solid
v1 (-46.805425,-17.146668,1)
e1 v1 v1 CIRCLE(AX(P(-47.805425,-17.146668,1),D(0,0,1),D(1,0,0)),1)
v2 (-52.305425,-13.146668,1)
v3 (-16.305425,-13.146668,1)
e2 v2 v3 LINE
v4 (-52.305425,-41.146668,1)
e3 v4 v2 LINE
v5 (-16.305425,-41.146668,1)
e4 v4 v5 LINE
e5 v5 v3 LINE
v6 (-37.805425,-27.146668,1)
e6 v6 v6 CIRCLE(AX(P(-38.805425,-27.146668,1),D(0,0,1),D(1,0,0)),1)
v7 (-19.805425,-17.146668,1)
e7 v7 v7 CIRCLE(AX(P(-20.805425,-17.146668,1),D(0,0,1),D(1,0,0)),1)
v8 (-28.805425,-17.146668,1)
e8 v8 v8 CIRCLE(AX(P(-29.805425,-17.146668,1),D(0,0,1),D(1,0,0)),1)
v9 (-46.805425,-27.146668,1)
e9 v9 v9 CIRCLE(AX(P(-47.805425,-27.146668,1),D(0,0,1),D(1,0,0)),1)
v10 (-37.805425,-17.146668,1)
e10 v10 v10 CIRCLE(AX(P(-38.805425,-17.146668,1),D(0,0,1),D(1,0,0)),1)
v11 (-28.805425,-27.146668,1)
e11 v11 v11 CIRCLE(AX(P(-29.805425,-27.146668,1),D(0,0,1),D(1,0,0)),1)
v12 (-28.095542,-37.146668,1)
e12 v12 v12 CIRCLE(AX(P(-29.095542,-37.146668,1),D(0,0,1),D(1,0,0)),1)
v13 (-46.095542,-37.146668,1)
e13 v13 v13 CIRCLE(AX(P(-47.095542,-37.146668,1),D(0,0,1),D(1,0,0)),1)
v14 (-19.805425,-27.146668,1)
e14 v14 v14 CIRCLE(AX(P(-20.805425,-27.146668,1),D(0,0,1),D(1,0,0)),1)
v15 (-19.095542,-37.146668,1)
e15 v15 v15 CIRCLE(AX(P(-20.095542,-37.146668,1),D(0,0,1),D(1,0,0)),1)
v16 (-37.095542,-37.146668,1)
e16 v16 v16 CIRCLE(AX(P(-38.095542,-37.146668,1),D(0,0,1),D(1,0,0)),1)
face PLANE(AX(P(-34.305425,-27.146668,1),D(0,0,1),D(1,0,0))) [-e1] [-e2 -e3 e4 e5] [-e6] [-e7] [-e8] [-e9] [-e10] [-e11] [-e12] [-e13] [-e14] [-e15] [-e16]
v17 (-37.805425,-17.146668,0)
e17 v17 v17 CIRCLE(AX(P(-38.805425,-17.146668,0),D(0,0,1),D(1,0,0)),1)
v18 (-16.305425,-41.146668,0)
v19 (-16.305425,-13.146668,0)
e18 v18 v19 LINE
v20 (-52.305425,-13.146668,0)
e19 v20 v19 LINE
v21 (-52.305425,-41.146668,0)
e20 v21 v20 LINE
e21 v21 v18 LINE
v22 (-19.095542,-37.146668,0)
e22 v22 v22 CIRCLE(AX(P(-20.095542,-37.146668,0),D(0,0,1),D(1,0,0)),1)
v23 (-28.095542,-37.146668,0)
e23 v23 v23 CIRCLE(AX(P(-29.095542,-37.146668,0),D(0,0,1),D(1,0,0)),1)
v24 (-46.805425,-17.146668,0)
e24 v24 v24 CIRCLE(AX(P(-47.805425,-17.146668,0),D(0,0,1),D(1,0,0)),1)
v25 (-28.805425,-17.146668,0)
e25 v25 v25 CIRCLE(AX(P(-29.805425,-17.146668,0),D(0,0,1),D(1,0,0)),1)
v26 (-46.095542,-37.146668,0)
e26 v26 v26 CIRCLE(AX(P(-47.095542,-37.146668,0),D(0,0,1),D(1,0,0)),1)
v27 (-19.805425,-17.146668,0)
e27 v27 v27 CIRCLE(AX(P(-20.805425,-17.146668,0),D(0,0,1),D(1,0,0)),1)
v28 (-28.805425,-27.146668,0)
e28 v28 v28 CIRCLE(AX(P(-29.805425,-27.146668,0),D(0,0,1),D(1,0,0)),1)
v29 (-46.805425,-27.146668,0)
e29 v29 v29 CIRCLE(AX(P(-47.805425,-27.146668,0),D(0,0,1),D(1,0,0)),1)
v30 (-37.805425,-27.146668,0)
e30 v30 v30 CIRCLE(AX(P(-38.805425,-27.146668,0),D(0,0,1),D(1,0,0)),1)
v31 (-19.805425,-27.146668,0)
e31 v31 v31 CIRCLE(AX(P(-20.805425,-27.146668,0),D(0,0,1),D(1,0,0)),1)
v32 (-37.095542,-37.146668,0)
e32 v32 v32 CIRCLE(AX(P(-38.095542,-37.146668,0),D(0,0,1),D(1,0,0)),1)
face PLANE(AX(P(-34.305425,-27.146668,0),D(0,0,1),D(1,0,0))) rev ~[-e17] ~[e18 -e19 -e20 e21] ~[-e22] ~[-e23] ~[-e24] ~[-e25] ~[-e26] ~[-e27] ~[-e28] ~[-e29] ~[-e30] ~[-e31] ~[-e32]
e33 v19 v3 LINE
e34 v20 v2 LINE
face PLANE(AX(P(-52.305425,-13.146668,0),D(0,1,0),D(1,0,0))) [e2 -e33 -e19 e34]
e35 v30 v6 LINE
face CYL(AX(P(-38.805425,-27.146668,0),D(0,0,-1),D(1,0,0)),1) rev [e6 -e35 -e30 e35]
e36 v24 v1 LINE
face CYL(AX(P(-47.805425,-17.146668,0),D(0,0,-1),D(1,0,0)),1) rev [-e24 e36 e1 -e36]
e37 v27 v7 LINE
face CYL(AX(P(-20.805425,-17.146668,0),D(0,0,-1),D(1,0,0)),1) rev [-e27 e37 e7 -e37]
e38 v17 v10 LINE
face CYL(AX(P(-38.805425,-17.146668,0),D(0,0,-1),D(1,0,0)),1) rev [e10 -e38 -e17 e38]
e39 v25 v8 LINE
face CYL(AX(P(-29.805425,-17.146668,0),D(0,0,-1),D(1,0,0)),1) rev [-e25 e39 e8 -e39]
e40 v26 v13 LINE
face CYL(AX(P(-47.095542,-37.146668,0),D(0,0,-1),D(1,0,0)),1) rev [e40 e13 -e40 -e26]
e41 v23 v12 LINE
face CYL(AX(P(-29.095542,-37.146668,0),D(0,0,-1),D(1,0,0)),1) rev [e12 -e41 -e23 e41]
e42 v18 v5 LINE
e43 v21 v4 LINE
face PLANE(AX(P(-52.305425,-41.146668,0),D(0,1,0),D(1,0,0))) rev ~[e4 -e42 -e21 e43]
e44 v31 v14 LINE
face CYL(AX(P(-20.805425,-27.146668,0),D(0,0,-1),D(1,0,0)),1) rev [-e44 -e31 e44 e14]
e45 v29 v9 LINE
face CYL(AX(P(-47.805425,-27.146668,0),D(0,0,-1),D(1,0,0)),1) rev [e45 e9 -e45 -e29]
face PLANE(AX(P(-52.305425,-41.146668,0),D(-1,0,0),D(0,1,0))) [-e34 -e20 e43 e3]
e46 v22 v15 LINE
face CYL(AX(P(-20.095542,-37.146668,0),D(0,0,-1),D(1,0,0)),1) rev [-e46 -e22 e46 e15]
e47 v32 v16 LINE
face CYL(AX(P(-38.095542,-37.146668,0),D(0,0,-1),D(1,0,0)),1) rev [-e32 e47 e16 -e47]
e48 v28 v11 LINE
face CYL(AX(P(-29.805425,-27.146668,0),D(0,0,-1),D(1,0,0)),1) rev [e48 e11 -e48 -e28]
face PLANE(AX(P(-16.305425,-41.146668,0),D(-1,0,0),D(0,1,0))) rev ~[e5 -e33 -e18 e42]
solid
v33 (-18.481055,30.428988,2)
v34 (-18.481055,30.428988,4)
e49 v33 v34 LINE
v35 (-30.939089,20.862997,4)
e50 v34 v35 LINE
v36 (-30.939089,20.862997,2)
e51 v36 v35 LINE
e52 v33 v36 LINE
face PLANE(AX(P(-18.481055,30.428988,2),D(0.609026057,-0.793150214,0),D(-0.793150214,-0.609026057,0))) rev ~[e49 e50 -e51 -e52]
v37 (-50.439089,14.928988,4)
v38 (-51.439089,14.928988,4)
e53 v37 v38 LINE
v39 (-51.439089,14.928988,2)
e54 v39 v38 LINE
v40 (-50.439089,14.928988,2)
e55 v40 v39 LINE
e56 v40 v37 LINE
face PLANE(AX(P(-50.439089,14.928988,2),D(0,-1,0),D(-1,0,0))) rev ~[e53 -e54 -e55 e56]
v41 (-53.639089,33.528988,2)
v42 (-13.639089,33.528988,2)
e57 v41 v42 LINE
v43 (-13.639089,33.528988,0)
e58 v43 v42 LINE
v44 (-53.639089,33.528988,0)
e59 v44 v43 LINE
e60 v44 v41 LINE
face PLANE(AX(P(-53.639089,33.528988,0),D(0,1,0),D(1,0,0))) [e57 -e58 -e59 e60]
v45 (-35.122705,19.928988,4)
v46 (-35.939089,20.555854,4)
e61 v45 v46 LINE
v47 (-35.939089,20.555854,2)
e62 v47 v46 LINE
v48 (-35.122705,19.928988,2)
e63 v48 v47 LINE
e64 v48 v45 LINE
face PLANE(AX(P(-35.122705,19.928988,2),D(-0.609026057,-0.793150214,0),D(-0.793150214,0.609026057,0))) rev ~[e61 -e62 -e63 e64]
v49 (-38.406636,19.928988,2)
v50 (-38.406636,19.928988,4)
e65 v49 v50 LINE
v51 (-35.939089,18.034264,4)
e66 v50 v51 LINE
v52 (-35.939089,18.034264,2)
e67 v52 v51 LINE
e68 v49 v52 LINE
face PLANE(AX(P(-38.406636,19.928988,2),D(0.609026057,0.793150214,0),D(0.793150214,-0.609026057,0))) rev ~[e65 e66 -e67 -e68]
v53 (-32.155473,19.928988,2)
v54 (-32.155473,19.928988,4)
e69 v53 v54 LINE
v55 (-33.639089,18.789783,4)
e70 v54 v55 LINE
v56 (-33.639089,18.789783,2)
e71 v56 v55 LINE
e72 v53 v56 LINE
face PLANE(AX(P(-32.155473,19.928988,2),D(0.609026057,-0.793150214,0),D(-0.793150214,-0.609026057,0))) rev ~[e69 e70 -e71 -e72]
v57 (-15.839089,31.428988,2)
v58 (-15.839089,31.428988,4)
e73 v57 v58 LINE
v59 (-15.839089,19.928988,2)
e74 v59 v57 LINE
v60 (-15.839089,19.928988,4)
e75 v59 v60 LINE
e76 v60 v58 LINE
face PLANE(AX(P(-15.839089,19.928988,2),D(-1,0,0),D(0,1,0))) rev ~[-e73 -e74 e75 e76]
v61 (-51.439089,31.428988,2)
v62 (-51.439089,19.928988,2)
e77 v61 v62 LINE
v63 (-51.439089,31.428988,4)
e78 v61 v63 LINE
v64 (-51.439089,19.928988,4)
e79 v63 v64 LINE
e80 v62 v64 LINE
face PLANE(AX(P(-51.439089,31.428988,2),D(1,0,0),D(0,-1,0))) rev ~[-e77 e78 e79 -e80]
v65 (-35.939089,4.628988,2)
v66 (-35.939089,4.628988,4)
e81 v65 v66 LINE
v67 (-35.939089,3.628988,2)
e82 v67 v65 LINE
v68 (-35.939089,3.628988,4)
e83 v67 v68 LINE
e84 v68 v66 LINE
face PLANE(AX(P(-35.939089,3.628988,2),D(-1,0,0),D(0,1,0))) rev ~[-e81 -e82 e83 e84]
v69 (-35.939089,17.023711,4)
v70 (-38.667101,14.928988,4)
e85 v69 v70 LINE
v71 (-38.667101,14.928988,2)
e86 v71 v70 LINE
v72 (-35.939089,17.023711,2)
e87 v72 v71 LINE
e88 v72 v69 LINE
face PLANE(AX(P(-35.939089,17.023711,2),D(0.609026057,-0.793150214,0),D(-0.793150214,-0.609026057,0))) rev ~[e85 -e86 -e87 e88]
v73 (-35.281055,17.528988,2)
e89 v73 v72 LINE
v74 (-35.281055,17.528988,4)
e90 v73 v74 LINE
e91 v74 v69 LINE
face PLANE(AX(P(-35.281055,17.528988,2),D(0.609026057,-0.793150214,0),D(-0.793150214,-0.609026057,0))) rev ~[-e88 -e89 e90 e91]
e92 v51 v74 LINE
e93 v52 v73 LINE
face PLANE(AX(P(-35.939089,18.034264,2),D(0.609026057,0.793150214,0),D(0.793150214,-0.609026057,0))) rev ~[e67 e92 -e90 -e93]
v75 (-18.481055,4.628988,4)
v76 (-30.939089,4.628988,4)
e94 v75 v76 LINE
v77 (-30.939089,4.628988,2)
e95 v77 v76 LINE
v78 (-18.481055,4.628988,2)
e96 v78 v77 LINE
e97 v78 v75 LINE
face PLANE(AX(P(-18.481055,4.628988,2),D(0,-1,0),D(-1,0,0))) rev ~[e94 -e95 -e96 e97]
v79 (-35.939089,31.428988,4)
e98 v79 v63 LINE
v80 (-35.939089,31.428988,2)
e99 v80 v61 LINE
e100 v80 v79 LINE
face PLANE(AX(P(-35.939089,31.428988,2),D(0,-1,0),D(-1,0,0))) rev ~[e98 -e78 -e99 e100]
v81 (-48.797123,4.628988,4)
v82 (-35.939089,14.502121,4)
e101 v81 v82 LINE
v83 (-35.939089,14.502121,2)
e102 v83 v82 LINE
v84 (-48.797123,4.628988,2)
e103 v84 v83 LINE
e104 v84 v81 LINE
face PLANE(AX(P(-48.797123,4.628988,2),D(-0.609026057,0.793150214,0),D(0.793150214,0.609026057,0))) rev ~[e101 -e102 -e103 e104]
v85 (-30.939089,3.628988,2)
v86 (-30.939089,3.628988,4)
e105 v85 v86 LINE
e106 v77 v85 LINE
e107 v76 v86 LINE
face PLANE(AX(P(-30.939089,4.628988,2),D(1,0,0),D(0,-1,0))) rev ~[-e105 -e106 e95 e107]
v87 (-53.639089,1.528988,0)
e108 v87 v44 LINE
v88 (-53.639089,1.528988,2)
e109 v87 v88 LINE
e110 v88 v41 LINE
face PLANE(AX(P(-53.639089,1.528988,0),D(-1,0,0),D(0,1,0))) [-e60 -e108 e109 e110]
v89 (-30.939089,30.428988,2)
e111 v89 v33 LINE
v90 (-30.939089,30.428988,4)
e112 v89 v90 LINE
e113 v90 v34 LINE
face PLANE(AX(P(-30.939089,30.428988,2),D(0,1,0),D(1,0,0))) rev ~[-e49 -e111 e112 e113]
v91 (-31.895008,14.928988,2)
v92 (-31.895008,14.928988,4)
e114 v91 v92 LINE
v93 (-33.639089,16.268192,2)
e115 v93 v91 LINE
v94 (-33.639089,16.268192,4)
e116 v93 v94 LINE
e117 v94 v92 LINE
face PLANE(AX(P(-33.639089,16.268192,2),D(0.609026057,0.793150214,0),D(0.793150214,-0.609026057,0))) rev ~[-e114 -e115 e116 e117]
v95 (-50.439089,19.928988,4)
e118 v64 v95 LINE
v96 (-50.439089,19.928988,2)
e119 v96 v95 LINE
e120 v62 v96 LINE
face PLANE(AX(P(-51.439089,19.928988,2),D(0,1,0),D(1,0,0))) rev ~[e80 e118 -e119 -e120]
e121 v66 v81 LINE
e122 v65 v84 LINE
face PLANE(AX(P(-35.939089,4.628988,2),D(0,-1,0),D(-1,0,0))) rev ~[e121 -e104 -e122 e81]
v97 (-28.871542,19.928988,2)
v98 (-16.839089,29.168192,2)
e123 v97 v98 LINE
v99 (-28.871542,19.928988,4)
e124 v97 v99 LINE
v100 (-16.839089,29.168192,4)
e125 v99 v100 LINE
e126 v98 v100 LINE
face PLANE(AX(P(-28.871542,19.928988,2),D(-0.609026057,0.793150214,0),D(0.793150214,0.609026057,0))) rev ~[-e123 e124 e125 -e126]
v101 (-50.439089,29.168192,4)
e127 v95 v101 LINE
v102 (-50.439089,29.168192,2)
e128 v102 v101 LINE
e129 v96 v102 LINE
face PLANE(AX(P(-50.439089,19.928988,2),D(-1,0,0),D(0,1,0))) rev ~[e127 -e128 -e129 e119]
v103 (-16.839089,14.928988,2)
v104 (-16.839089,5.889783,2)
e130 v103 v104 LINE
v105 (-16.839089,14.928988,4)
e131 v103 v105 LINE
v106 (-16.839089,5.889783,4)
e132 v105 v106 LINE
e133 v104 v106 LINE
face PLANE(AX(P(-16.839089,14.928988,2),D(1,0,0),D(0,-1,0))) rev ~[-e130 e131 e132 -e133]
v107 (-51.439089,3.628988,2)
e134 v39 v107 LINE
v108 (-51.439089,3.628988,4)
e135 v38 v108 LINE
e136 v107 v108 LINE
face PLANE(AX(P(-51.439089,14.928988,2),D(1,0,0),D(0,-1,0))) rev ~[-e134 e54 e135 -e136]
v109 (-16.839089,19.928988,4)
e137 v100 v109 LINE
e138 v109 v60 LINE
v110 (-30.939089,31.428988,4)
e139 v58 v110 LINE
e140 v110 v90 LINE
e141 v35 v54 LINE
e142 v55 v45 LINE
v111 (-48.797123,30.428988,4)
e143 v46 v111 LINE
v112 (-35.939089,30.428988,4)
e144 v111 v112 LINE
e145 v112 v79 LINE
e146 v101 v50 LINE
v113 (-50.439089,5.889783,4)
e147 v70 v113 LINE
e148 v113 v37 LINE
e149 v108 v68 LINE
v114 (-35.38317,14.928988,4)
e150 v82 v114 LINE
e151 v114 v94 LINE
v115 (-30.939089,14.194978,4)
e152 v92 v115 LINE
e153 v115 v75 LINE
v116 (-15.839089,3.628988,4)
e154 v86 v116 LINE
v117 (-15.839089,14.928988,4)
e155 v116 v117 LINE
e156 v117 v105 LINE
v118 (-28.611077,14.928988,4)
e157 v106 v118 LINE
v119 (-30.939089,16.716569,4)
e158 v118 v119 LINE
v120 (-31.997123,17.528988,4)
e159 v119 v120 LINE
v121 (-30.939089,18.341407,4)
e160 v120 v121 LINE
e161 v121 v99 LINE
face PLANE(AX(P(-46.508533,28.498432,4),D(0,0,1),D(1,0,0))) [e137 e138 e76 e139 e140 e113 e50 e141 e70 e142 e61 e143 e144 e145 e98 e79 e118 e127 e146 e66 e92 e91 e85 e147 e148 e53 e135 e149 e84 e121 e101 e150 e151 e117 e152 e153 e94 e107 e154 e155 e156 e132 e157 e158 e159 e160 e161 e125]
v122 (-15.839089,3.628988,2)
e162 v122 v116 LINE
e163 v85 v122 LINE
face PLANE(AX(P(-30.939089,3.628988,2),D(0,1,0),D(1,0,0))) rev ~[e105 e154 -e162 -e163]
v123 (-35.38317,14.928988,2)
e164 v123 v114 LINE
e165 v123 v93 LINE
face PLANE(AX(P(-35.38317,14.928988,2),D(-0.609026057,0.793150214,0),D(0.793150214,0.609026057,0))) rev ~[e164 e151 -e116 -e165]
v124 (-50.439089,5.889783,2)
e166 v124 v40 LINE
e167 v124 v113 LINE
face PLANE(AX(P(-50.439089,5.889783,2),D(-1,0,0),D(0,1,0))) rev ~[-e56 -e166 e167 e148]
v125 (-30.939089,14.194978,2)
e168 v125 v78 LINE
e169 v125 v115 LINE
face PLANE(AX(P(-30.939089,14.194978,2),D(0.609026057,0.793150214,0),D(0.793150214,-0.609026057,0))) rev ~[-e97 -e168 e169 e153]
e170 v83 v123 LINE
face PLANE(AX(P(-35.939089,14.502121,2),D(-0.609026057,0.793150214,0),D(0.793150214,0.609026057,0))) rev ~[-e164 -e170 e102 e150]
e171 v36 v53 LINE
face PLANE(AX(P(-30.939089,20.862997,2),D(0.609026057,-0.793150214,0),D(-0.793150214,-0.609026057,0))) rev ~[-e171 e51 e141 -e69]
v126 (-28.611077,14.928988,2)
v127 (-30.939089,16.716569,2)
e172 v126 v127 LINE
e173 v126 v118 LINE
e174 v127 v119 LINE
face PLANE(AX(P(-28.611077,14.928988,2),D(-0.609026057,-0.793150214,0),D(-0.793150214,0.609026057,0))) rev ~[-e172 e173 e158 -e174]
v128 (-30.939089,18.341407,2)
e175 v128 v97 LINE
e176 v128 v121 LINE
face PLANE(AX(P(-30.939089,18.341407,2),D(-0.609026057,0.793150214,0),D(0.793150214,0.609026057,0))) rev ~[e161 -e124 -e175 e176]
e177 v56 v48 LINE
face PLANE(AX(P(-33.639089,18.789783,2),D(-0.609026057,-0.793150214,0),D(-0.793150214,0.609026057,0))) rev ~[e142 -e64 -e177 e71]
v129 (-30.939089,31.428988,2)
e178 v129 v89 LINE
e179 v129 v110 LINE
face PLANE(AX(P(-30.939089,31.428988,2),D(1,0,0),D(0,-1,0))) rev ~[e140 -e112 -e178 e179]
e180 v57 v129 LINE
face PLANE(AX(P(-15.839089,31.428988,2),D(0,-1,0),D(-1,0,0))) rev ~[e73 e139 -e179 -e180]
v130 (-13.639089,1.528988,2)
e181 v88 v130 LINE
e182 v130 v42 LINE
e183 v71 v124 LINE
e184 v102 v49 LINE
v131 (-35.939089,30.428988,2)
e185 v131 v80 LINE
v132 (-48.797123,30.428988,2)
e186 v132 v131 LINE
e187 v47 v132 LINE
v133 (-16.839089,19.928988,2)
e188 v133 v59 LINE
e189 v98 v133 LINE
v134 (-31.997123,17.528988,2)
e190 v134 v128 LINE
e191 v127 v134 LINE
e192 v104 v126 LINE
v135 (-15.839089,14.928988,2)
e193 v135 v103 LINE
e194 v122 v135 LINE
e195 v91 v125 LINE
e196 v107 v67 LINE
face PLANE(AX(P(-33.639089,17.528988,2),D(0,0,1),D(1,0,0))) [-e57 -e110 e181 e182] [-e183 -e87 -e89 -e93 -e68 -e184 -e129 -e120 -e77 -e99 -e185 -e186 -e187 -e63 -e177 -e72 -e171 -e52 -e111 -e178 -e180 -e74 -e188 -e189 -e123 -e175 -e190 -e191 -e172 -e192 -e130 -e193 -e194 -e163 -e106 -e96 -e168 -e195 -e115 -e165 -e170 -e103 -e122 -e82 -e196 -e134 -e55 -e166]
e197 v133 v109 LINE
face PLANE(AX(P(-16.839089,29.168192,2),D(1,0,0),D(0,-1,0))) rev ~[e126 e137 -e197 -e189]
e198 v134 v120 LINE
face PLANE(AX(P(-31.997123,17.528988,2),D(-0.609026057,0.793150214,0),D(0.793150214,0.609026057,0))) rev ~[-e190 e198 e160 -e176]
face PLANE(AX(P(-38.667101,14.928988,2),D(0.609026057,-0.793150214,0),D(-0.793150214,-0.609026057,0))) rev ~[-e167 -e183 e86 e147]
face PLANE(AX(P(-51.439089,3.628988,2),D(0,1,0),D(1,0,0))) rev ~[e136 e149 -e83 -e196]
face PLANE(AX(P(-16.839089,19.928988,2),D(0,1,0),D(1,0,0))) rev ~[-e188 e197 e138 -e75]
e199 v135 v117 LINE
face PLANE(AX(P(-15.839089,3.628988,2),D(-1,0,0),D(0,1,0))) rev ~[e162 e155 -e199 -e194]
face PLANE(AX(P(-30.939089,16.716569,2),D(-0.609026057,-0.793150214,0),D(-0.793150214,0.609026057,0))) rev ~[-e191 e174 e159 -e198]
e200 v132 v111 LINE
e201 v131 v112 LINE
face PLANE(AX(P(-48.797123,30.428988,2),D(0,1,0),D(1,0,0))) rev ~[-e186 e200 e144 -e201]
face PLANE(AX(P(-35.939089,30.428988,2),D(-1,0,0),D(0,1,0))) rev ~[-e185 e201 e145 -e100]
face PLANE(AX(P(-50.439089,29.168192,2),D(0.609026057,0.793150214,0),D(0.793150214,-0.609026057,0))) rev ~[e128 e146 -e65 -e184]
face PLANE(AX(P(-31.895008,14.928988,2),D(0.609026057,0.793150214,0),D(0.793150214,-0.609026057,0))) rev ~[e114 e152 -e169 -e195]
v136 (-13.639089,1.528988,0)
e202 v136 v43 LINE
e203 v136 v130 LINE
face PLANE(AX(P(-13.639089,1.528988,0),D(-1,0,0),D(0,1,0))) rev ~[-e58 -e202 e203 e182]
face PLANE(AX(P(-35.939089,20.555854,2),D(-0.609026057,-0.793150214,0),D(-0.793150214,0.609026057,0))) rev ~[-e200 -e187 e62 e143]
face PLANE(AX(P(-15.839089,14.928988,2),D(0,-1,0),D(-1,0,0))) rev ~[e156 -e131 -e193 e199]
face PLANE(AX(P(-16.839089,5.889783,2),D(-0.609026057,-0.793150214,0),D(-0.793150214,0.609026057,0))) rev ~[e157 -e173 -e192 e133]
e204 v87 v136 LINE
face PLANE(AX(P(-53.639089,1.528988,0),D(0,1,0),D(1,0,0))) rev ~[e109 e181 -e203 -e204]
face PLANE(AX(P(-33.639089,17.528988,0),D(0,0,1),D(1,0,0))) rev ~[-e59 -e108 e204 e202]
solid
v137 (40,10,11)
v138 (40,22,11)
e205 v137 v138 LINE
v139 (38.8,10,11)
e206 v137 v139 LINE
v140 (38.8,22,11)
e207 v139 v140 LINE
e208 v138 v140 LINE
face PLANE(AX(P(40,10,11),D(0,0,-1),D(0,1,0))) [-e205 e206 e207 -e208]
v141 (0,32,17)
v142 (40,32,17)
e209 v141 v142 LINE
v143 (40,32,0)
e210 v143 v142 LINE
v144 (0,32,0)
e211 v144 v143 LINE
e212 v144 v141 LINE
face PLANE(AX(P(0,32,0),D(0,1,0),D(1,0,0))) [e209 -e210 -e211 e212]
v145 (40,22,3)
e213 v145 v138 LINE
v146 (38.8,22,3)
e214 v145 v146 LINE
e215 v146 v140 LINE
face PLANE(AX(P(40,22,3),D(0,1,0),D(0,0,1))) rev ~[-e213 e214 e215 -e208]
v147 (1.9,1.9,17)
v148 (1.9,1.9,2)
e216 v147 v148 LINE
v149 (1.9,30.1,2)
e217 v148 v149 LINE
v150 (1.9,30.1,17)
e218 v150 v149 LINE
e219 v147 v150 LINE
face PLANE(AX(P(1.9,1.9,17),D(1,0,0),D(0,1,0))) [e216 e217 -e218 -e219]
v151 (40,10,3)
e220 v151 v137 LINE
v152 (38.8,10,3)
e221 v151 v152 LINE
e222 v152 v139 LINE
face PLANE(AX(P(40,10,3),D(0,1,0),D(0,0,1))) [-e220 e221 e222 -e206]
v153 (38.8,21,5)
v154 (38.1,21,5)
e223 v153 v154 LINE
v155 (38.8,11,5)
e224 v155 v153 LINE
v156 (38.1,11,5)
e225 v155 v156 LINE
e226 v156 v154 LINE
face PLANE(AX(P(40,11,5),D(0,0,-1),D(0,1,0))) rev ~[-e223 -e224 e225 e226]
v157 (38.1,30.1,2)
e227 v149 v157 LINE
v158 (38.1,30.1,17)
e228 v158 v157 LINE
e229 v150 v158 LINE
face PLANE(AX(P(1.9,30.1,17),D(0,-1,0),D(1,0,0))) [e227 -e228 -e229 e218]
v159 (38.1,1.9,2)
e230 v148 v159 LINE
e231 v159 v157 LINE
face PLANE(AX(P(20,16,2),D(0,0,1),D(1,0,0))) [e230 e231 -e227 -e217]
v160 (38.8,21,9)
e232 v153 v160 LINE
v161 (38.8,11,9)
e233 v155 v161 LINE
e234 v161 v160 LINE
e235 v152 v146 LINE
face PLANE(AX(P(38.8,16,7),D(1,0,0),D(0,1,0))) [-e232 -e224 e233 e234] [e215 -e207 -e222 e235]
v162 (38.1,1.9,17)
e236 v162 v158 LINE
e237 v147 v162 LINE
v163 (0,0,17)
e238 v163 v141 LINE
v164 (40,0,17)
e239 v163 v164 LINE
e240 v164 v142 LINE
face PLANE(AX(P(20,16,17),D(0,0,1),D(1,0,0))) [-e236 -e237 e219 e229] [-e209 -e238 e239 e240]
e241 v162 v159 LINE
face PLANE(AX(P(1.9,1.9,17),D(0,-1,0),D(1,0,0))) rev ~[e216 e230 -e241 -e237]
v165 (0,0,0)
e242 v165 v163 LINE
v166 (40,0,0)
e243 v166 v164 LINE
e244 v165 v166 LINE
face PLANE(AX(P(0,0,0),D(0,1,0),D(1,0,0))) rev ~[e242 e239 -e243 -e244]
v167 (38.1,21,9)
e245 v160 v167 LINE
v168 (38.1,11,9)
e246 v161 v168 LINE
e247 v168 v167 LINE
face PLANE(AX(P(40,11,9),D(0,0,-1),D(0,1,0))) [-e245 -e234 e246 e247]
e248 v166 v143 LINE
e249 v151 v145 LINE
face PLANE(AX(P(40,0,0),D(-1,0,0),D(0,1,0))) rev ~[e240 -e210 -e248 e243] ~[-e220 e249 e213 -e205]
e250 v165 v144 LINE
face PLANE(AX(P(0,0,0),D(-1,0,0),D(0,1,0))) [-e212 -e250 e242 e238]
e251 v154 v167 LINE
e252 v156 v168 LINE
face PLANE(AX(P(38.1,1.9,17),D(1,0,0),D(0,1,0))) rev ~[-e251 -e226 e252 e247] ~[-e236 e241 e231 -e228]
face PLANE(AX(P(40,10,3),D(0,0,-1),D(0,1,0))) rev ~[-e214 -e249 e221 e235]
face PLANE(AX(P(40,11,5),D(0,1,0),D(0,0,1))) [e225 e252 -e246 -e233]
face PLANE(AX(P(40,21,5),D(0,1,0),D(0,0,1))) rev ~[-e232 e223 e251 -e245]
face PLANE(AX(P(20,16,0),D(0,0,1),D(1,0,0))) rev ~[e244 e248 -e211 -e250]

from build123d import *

# Parameters (mm, degrees)
F0_W      = 40
F0_H      = 32
F1_DEPTH  = 17
F2_W      = 36.2
F2_H      = 28.2
F3_DEPTH  = 15
F4_W      = 10
F4_H      = 4
F5_DEPTH  = 1.9
F6_W      = 40
F6_H      = 32
F7_DEPTH  = 2
F9_DEPTH  = 2
F4_W_2    = 12
F4_H_2    = 8
F10_DEPTH = 1.2
F11_W     = 36
F11_H     = 28
F11_R     = 1
F12_DEPTH = 1


with BuildPart() as f1:
    # F0 (on Top) → F1 (new body)
    with BuildSketch(Plane.XY):
        with Locations((20, 16)):
            Rectangle(F0_W, F0_H)
    extrude(amount=F1_DEPTH)

    # F2 (on face) → F3 (cut)
    with BuildSketch(Plane.XY.offset(17)):
        with Locations((20, 16)):
            Rectangle(F2_W, F2_H)
    extrude(amount=-F3_DEPTH, mode=Mode.SUBTRACT)

    # F4 (on face) → F5 (cut, through all)
    with BuildSketch(Plane.YZ.offset(40)):
        with Locations((16, 7)):
            Rectangle(F4_W, F4_H)
    extrude(amount=-F5_DEPTH, mode=Mode.SUBTRACT)

    # F4 (on face) → F10 (cut)
    with BuildSketch(Plane.YZ.offset(40)):
        with Locations((16, 7)):
            Rectangle(F4_W_2, F4_H_2)
        with Locations((16, 7)):
            Rectangle(F4_W, F4_H, mode=Mode.SUBTRACT)
    extrude(amount=-F10_DEPTH, mode=Mode.SUBTRACT)


with BuildPart() as f7:
    # F6 (on Top) → F7 (new body)
    with BuildSketch(Plane.XY):
        with Locations((-33.6390890081, 17.5289876275)):
            Rectangle(F6_W, F6_H)
    extrude(amount=F7_DEPTH)

    # F8 (on face) → F9 (join)
    with BuildSketch(Plane.XY.offset(2)):
        Polygon((-35.9390890081, 31.4289876275), (-51.4390890081, 31.4289876275), (-51.4390890081, 19.9289876275), (-50.4390890081, 19.9289876275), (-50.4390890081, 29.1681924055), (-50.4390890081, 30.4289876275), (-48.7971231376, 30.4289876275), (-35.9390890081, 30.4289876275), align=None)
        Polygon((-15.8390890081, 31.4289876275), (-30.9390890081, 31.4289876275), (-30.9390890081, 30.4289876275), (-18.4810548786, 30.4289876275), (-16.8390890081, 30.4289876275), (-16.8390890081, 29.1681924055), (-16.8390890081, 19.9289876275), (-15.8390890081, 19.9289876275), align=None)
        Polygon((-50.4390890081, 30.4289876275), (-50.4390890081, 29.1681924055), (-38.406636274, 19.9289876275), (-36.7646704035, 19.9289876275), align=None)
        Polygon((-35.9390890081, 20.5558542781), (-48.7971231376, 30.4289876275), (-50.4390890081, 30.4289876275), (-36.7646704035, 19.9289876275), (-35.9390890081, 19.9289876275), align=None)
        Polygon((-32.8181060728, 18.1593852385), (-33.6390890081, 18.7897828495), (-34.4600719434, 18.1593852385), (-33.6390890081, 17.5289876275), align=None)
        Polygon((-31.9971231376, 17.5289876275), (-32.8181060728, 18.1593852385), (-33.6390890081, 17.5289876275), (-32.8181060728, 16.8985900165), align=None)
        Polygon((-34.4600719434, 18.1593852385), (-35.2810548786, 17.5289876275), (-34.4600719434, 16.8985900165), (-33.6390890081, 17.5289876275), align=None)
        Polygon((-33.6390890081, 17.5289876275), (-34.4600719434, 16.8985900165), (-33.6390890081, 16.2681924055), (-32.8181060728, 16.8985900165), align=None)
        Polygon((-30.9390890081, 18.3414066912), (-30.9390890081, 19.6022019132), (-32.8181060728, 18.1593852385), (-31.9971231376, 17.5289876275), align=None)
        Polygon((-30.9390890081, 19.9289876275), (-32.1554734833, 19.9289876275), (-33.6390890081, 18.7897828495), (-32.8181060728, 18.1593852385), (-30.9390890081, 19.6022019132), align=None)
        Polygon((-35.2810548786, 17.5289876275), (-35.9390890081, 17.0237114209), (-35.9390890081, 15.7629161989), (-34.4600719434, 16.8985900165), align=None)
        Polygon((-34.4600719434, 16.8985900165), (-35.9390890081, 15.7629161989), (-35.9390890081, 14.9289876275), (-35.3831696492, 14.9289876275), (-33.6390890081, 16.2681924055), align=None)
        Polygon((-30.9390890081, 14.1949781198), (-18.4810548786, 4.6289876275), (-16.8390890081, 4.6289876275), (-30.2530424965, 14.9289876275), (-30.9390890081, 14.9289876275), align=None)
        Polygon((-16.8390890081, 4.6289876275), (-16.8390890081, 5.8897828495), (-28.611076626, 14.9289876275), (-30.2530424965, 14.9289876275), align=None)
        Polygon((-35.9390890081, 17.0237114209), (-38.6671013903, 14.9289876275), (-37.0251355197, 14.9289876275), (-35.9390890081, 15.7629161989), align=None)
        Polygon((-36.7646704035, 19.9289876275), (-38.406636274, 19.9289876275), (-35.9390890081, 18.034263834), (-35.9390890081, 19.295059056), align=None)
        Polygon((-35.9390890081, 19.295059056), (-35.9390890081, 18.034263834), (-35.2810548786, 17.5289876275), (-34.4600719434, 18.1593852385), align=None)
        Polygon((-33.6390890081, 18.7897828495), (-35.1227045329, 19.9289876275), (-35.9390890081, 19.9289876275), (-35.9390890081, 19.295059056), (-34.4600719434, 18.1593852385), align=None)
        Polygon((-35.1227045329, 19.9289876275), (-35.9390890081, 20.5558542781), (-35.9390890081, 19.9289876275), align=None)
        Polygon((-35.9390890081, 15.7629161989), (-37.0251355197, 14.9289876275), (-35.9390890081, 14.9289876275), align=None)
        Polygon((-32.8181060728, 16.8985900165), (-33.6390890081, 16.2681924055), (-31.895008367, 14.9289876275), (-30.9390890081, 14.9289876275), (-30.9390890081, 15.4557733418), align=None)
        Polygon((-30.9390890081, 16.7165685638), (-31.9971231376, 17.5289876275), (-32.8181060728, 16.8985900165), (-30.9390890081, 15.4557733418), align=None)
        Polygon((-30.2530424965, 14.9289876275), (-28.611076626, 14.9289876275), (-30.9390890081, 16.7165685638), (-30.9390890081, 15.4557733418), align=None)
        Polygon((-30.9390890081, 14.9289876275), (-30.2530424965, 14.9289876275), (-30.9390890081, 15.4557733418), align=None)
        Polygon((-31.895008367, 14.9289876275), (-30.9390890081, 14.1949781198), (-30.9390890081, 14.9289876275), align=None)
        Polygon((-35.9390890081, 19.295059056), (-35.9390890081, 19.9289876275), (-36.7646704035, 19.9289876275), align=None)
        Polygon((-30.9390890081, 18.3414066912), (-28.8715417422, 19.9289876275), (-30.5135076128, 19.9289876275), (-30.9390890081, 19.6022019132), align=None)
        Polygon((-30.5135076128, 19.9289876275), (-30.9390890081, 19.9289876275), (-30.9390890081, 19.6022019132), align=None)
        Polygon((-30.9390890081, 19.9289876275), (-30.9390890081, 20.8629971352), (-32.1554734833, 19.9289876275), align=None)
        Polygon((-16.8390890081, 30.4289876275), (-18.4810548786, 30.4289876275), (-30.9390890081, 20.8629971352), (-30.9390890081, 19.9289876275), (-30.5135076128, 19.9289876275), align=None)
        Polygon((-16.8390890081, 29.1681924055), (-16.8390890081, 30.4289876275), (-30.5135076128, 19.9289876275), (-28.8715417422, 19.9289876275), align=None)
        Polygon((-37.0251355197, 14.9289876275), (-50.4390890081, 4.6289876275), (-48.7971231376, 4.6289876275), (-35.9390890081, 14.5021209769), (-35.9390890081, 14.9289876275), align=None)
        Polygon((-38.6671013903, 14.9289876275), (-50.4390890081, 5.8897828495), (-50.4390890081, 4.6289876275), (-37.0251355197, 14.9289876275), align=None)
        Polygon((-50.4390890081, 14.9289876275), (-51.4390890081, 14.9289876275), (-51.4390890081, 3.6289876275), (-35.9390890081, 3.6289876275), (-35.9390890081, 4.6289876275), (-48.7971231376, 4.6289876275), (-50.4390890081, 4.6289876275), (-50.4390890081, 5.8897828495), align=None)
        Polygon((-15.8390890081, 3.6289876275), (-15.8390890081, 14.9289876275), (-16.8390890081, 14.9289876275), (-16.8390890081, 5.8897828495), (-16.8390890081, 4.6289876275), (-18.4810548786, 4.6289876275), (-30.9390890081, 4.6289876275), (-30.9390890081, 3.6289876275), align=None)
        Polygon((-35.9390890081, 14.9289876275), (-35.9390890081, 14.5021209769), (-35.3831696492, 14.9289876275), align=None)
    extrude(amount=F9_DEPTH)


with BuildPart() as f12:
    # F11 (on Top) → F12 (new body)
    with BuildSketch(Plane.XY):
        with Locations((-34.3054247797, -27.1466679312)):
            Rectangle(F11_W, F11_H)
        with Locations((-47.0955419362, -37.1466679312)):
            Circle(F11_R, mode=Mode.SUBTRACT)
        with Locations((-38.0955419362, -37.1466679312)):
            Circle(F11_R, mode=Mode.SUBTRACT)
        with Locations((-29.0955419362, -37.1466679312)):
            Circle(F11_R, mode=Mode.SUBTRACT)
        with Locations((-20.0955419362, -37.1466679312)):
            Circle(F11_R, mode=Mode.SUBTRACT)
        with Locations((-47.8054247797, -27.1466679312)):
            Circle(F11_R, mode=Mode.SUBTRACT)
        with Locations((-38.8054247797, -27.1466679312)):
            Circle(F11_R, mode=Mode.SUBTRACT)
        with Locations((-47.8054247797, -17.1466679312)):
            Circle(F11_R, mode=Mode.SUBTRACT)
        with Locations((-38.8054247797, -17.1466679312)):
            Circle(F11_R, mode=Mode.SUBTRACT)
        with Locations((-29.8054247797, -27.1466679312)):
            Circle(F11_R, mode=Mode.SUBTRACT)
        with Locations((-20.8054247797, -27.1466679312)):
            Circle(F11_R, mode=Mode.SUBTRACT)
        with Locations((-29.8054247797, -17.1466679312)):
            Circle(F11_R, mode=Mode.SUBTRACT)
        with Locations((-20.8054247797, -17.1466679312)):
            Circle(F11_R, mode=Mode.SUBTRACT)
    extrude(amount=F12_DEPTH)


solid = Compound([f1.part, f7.part, f12.part])
